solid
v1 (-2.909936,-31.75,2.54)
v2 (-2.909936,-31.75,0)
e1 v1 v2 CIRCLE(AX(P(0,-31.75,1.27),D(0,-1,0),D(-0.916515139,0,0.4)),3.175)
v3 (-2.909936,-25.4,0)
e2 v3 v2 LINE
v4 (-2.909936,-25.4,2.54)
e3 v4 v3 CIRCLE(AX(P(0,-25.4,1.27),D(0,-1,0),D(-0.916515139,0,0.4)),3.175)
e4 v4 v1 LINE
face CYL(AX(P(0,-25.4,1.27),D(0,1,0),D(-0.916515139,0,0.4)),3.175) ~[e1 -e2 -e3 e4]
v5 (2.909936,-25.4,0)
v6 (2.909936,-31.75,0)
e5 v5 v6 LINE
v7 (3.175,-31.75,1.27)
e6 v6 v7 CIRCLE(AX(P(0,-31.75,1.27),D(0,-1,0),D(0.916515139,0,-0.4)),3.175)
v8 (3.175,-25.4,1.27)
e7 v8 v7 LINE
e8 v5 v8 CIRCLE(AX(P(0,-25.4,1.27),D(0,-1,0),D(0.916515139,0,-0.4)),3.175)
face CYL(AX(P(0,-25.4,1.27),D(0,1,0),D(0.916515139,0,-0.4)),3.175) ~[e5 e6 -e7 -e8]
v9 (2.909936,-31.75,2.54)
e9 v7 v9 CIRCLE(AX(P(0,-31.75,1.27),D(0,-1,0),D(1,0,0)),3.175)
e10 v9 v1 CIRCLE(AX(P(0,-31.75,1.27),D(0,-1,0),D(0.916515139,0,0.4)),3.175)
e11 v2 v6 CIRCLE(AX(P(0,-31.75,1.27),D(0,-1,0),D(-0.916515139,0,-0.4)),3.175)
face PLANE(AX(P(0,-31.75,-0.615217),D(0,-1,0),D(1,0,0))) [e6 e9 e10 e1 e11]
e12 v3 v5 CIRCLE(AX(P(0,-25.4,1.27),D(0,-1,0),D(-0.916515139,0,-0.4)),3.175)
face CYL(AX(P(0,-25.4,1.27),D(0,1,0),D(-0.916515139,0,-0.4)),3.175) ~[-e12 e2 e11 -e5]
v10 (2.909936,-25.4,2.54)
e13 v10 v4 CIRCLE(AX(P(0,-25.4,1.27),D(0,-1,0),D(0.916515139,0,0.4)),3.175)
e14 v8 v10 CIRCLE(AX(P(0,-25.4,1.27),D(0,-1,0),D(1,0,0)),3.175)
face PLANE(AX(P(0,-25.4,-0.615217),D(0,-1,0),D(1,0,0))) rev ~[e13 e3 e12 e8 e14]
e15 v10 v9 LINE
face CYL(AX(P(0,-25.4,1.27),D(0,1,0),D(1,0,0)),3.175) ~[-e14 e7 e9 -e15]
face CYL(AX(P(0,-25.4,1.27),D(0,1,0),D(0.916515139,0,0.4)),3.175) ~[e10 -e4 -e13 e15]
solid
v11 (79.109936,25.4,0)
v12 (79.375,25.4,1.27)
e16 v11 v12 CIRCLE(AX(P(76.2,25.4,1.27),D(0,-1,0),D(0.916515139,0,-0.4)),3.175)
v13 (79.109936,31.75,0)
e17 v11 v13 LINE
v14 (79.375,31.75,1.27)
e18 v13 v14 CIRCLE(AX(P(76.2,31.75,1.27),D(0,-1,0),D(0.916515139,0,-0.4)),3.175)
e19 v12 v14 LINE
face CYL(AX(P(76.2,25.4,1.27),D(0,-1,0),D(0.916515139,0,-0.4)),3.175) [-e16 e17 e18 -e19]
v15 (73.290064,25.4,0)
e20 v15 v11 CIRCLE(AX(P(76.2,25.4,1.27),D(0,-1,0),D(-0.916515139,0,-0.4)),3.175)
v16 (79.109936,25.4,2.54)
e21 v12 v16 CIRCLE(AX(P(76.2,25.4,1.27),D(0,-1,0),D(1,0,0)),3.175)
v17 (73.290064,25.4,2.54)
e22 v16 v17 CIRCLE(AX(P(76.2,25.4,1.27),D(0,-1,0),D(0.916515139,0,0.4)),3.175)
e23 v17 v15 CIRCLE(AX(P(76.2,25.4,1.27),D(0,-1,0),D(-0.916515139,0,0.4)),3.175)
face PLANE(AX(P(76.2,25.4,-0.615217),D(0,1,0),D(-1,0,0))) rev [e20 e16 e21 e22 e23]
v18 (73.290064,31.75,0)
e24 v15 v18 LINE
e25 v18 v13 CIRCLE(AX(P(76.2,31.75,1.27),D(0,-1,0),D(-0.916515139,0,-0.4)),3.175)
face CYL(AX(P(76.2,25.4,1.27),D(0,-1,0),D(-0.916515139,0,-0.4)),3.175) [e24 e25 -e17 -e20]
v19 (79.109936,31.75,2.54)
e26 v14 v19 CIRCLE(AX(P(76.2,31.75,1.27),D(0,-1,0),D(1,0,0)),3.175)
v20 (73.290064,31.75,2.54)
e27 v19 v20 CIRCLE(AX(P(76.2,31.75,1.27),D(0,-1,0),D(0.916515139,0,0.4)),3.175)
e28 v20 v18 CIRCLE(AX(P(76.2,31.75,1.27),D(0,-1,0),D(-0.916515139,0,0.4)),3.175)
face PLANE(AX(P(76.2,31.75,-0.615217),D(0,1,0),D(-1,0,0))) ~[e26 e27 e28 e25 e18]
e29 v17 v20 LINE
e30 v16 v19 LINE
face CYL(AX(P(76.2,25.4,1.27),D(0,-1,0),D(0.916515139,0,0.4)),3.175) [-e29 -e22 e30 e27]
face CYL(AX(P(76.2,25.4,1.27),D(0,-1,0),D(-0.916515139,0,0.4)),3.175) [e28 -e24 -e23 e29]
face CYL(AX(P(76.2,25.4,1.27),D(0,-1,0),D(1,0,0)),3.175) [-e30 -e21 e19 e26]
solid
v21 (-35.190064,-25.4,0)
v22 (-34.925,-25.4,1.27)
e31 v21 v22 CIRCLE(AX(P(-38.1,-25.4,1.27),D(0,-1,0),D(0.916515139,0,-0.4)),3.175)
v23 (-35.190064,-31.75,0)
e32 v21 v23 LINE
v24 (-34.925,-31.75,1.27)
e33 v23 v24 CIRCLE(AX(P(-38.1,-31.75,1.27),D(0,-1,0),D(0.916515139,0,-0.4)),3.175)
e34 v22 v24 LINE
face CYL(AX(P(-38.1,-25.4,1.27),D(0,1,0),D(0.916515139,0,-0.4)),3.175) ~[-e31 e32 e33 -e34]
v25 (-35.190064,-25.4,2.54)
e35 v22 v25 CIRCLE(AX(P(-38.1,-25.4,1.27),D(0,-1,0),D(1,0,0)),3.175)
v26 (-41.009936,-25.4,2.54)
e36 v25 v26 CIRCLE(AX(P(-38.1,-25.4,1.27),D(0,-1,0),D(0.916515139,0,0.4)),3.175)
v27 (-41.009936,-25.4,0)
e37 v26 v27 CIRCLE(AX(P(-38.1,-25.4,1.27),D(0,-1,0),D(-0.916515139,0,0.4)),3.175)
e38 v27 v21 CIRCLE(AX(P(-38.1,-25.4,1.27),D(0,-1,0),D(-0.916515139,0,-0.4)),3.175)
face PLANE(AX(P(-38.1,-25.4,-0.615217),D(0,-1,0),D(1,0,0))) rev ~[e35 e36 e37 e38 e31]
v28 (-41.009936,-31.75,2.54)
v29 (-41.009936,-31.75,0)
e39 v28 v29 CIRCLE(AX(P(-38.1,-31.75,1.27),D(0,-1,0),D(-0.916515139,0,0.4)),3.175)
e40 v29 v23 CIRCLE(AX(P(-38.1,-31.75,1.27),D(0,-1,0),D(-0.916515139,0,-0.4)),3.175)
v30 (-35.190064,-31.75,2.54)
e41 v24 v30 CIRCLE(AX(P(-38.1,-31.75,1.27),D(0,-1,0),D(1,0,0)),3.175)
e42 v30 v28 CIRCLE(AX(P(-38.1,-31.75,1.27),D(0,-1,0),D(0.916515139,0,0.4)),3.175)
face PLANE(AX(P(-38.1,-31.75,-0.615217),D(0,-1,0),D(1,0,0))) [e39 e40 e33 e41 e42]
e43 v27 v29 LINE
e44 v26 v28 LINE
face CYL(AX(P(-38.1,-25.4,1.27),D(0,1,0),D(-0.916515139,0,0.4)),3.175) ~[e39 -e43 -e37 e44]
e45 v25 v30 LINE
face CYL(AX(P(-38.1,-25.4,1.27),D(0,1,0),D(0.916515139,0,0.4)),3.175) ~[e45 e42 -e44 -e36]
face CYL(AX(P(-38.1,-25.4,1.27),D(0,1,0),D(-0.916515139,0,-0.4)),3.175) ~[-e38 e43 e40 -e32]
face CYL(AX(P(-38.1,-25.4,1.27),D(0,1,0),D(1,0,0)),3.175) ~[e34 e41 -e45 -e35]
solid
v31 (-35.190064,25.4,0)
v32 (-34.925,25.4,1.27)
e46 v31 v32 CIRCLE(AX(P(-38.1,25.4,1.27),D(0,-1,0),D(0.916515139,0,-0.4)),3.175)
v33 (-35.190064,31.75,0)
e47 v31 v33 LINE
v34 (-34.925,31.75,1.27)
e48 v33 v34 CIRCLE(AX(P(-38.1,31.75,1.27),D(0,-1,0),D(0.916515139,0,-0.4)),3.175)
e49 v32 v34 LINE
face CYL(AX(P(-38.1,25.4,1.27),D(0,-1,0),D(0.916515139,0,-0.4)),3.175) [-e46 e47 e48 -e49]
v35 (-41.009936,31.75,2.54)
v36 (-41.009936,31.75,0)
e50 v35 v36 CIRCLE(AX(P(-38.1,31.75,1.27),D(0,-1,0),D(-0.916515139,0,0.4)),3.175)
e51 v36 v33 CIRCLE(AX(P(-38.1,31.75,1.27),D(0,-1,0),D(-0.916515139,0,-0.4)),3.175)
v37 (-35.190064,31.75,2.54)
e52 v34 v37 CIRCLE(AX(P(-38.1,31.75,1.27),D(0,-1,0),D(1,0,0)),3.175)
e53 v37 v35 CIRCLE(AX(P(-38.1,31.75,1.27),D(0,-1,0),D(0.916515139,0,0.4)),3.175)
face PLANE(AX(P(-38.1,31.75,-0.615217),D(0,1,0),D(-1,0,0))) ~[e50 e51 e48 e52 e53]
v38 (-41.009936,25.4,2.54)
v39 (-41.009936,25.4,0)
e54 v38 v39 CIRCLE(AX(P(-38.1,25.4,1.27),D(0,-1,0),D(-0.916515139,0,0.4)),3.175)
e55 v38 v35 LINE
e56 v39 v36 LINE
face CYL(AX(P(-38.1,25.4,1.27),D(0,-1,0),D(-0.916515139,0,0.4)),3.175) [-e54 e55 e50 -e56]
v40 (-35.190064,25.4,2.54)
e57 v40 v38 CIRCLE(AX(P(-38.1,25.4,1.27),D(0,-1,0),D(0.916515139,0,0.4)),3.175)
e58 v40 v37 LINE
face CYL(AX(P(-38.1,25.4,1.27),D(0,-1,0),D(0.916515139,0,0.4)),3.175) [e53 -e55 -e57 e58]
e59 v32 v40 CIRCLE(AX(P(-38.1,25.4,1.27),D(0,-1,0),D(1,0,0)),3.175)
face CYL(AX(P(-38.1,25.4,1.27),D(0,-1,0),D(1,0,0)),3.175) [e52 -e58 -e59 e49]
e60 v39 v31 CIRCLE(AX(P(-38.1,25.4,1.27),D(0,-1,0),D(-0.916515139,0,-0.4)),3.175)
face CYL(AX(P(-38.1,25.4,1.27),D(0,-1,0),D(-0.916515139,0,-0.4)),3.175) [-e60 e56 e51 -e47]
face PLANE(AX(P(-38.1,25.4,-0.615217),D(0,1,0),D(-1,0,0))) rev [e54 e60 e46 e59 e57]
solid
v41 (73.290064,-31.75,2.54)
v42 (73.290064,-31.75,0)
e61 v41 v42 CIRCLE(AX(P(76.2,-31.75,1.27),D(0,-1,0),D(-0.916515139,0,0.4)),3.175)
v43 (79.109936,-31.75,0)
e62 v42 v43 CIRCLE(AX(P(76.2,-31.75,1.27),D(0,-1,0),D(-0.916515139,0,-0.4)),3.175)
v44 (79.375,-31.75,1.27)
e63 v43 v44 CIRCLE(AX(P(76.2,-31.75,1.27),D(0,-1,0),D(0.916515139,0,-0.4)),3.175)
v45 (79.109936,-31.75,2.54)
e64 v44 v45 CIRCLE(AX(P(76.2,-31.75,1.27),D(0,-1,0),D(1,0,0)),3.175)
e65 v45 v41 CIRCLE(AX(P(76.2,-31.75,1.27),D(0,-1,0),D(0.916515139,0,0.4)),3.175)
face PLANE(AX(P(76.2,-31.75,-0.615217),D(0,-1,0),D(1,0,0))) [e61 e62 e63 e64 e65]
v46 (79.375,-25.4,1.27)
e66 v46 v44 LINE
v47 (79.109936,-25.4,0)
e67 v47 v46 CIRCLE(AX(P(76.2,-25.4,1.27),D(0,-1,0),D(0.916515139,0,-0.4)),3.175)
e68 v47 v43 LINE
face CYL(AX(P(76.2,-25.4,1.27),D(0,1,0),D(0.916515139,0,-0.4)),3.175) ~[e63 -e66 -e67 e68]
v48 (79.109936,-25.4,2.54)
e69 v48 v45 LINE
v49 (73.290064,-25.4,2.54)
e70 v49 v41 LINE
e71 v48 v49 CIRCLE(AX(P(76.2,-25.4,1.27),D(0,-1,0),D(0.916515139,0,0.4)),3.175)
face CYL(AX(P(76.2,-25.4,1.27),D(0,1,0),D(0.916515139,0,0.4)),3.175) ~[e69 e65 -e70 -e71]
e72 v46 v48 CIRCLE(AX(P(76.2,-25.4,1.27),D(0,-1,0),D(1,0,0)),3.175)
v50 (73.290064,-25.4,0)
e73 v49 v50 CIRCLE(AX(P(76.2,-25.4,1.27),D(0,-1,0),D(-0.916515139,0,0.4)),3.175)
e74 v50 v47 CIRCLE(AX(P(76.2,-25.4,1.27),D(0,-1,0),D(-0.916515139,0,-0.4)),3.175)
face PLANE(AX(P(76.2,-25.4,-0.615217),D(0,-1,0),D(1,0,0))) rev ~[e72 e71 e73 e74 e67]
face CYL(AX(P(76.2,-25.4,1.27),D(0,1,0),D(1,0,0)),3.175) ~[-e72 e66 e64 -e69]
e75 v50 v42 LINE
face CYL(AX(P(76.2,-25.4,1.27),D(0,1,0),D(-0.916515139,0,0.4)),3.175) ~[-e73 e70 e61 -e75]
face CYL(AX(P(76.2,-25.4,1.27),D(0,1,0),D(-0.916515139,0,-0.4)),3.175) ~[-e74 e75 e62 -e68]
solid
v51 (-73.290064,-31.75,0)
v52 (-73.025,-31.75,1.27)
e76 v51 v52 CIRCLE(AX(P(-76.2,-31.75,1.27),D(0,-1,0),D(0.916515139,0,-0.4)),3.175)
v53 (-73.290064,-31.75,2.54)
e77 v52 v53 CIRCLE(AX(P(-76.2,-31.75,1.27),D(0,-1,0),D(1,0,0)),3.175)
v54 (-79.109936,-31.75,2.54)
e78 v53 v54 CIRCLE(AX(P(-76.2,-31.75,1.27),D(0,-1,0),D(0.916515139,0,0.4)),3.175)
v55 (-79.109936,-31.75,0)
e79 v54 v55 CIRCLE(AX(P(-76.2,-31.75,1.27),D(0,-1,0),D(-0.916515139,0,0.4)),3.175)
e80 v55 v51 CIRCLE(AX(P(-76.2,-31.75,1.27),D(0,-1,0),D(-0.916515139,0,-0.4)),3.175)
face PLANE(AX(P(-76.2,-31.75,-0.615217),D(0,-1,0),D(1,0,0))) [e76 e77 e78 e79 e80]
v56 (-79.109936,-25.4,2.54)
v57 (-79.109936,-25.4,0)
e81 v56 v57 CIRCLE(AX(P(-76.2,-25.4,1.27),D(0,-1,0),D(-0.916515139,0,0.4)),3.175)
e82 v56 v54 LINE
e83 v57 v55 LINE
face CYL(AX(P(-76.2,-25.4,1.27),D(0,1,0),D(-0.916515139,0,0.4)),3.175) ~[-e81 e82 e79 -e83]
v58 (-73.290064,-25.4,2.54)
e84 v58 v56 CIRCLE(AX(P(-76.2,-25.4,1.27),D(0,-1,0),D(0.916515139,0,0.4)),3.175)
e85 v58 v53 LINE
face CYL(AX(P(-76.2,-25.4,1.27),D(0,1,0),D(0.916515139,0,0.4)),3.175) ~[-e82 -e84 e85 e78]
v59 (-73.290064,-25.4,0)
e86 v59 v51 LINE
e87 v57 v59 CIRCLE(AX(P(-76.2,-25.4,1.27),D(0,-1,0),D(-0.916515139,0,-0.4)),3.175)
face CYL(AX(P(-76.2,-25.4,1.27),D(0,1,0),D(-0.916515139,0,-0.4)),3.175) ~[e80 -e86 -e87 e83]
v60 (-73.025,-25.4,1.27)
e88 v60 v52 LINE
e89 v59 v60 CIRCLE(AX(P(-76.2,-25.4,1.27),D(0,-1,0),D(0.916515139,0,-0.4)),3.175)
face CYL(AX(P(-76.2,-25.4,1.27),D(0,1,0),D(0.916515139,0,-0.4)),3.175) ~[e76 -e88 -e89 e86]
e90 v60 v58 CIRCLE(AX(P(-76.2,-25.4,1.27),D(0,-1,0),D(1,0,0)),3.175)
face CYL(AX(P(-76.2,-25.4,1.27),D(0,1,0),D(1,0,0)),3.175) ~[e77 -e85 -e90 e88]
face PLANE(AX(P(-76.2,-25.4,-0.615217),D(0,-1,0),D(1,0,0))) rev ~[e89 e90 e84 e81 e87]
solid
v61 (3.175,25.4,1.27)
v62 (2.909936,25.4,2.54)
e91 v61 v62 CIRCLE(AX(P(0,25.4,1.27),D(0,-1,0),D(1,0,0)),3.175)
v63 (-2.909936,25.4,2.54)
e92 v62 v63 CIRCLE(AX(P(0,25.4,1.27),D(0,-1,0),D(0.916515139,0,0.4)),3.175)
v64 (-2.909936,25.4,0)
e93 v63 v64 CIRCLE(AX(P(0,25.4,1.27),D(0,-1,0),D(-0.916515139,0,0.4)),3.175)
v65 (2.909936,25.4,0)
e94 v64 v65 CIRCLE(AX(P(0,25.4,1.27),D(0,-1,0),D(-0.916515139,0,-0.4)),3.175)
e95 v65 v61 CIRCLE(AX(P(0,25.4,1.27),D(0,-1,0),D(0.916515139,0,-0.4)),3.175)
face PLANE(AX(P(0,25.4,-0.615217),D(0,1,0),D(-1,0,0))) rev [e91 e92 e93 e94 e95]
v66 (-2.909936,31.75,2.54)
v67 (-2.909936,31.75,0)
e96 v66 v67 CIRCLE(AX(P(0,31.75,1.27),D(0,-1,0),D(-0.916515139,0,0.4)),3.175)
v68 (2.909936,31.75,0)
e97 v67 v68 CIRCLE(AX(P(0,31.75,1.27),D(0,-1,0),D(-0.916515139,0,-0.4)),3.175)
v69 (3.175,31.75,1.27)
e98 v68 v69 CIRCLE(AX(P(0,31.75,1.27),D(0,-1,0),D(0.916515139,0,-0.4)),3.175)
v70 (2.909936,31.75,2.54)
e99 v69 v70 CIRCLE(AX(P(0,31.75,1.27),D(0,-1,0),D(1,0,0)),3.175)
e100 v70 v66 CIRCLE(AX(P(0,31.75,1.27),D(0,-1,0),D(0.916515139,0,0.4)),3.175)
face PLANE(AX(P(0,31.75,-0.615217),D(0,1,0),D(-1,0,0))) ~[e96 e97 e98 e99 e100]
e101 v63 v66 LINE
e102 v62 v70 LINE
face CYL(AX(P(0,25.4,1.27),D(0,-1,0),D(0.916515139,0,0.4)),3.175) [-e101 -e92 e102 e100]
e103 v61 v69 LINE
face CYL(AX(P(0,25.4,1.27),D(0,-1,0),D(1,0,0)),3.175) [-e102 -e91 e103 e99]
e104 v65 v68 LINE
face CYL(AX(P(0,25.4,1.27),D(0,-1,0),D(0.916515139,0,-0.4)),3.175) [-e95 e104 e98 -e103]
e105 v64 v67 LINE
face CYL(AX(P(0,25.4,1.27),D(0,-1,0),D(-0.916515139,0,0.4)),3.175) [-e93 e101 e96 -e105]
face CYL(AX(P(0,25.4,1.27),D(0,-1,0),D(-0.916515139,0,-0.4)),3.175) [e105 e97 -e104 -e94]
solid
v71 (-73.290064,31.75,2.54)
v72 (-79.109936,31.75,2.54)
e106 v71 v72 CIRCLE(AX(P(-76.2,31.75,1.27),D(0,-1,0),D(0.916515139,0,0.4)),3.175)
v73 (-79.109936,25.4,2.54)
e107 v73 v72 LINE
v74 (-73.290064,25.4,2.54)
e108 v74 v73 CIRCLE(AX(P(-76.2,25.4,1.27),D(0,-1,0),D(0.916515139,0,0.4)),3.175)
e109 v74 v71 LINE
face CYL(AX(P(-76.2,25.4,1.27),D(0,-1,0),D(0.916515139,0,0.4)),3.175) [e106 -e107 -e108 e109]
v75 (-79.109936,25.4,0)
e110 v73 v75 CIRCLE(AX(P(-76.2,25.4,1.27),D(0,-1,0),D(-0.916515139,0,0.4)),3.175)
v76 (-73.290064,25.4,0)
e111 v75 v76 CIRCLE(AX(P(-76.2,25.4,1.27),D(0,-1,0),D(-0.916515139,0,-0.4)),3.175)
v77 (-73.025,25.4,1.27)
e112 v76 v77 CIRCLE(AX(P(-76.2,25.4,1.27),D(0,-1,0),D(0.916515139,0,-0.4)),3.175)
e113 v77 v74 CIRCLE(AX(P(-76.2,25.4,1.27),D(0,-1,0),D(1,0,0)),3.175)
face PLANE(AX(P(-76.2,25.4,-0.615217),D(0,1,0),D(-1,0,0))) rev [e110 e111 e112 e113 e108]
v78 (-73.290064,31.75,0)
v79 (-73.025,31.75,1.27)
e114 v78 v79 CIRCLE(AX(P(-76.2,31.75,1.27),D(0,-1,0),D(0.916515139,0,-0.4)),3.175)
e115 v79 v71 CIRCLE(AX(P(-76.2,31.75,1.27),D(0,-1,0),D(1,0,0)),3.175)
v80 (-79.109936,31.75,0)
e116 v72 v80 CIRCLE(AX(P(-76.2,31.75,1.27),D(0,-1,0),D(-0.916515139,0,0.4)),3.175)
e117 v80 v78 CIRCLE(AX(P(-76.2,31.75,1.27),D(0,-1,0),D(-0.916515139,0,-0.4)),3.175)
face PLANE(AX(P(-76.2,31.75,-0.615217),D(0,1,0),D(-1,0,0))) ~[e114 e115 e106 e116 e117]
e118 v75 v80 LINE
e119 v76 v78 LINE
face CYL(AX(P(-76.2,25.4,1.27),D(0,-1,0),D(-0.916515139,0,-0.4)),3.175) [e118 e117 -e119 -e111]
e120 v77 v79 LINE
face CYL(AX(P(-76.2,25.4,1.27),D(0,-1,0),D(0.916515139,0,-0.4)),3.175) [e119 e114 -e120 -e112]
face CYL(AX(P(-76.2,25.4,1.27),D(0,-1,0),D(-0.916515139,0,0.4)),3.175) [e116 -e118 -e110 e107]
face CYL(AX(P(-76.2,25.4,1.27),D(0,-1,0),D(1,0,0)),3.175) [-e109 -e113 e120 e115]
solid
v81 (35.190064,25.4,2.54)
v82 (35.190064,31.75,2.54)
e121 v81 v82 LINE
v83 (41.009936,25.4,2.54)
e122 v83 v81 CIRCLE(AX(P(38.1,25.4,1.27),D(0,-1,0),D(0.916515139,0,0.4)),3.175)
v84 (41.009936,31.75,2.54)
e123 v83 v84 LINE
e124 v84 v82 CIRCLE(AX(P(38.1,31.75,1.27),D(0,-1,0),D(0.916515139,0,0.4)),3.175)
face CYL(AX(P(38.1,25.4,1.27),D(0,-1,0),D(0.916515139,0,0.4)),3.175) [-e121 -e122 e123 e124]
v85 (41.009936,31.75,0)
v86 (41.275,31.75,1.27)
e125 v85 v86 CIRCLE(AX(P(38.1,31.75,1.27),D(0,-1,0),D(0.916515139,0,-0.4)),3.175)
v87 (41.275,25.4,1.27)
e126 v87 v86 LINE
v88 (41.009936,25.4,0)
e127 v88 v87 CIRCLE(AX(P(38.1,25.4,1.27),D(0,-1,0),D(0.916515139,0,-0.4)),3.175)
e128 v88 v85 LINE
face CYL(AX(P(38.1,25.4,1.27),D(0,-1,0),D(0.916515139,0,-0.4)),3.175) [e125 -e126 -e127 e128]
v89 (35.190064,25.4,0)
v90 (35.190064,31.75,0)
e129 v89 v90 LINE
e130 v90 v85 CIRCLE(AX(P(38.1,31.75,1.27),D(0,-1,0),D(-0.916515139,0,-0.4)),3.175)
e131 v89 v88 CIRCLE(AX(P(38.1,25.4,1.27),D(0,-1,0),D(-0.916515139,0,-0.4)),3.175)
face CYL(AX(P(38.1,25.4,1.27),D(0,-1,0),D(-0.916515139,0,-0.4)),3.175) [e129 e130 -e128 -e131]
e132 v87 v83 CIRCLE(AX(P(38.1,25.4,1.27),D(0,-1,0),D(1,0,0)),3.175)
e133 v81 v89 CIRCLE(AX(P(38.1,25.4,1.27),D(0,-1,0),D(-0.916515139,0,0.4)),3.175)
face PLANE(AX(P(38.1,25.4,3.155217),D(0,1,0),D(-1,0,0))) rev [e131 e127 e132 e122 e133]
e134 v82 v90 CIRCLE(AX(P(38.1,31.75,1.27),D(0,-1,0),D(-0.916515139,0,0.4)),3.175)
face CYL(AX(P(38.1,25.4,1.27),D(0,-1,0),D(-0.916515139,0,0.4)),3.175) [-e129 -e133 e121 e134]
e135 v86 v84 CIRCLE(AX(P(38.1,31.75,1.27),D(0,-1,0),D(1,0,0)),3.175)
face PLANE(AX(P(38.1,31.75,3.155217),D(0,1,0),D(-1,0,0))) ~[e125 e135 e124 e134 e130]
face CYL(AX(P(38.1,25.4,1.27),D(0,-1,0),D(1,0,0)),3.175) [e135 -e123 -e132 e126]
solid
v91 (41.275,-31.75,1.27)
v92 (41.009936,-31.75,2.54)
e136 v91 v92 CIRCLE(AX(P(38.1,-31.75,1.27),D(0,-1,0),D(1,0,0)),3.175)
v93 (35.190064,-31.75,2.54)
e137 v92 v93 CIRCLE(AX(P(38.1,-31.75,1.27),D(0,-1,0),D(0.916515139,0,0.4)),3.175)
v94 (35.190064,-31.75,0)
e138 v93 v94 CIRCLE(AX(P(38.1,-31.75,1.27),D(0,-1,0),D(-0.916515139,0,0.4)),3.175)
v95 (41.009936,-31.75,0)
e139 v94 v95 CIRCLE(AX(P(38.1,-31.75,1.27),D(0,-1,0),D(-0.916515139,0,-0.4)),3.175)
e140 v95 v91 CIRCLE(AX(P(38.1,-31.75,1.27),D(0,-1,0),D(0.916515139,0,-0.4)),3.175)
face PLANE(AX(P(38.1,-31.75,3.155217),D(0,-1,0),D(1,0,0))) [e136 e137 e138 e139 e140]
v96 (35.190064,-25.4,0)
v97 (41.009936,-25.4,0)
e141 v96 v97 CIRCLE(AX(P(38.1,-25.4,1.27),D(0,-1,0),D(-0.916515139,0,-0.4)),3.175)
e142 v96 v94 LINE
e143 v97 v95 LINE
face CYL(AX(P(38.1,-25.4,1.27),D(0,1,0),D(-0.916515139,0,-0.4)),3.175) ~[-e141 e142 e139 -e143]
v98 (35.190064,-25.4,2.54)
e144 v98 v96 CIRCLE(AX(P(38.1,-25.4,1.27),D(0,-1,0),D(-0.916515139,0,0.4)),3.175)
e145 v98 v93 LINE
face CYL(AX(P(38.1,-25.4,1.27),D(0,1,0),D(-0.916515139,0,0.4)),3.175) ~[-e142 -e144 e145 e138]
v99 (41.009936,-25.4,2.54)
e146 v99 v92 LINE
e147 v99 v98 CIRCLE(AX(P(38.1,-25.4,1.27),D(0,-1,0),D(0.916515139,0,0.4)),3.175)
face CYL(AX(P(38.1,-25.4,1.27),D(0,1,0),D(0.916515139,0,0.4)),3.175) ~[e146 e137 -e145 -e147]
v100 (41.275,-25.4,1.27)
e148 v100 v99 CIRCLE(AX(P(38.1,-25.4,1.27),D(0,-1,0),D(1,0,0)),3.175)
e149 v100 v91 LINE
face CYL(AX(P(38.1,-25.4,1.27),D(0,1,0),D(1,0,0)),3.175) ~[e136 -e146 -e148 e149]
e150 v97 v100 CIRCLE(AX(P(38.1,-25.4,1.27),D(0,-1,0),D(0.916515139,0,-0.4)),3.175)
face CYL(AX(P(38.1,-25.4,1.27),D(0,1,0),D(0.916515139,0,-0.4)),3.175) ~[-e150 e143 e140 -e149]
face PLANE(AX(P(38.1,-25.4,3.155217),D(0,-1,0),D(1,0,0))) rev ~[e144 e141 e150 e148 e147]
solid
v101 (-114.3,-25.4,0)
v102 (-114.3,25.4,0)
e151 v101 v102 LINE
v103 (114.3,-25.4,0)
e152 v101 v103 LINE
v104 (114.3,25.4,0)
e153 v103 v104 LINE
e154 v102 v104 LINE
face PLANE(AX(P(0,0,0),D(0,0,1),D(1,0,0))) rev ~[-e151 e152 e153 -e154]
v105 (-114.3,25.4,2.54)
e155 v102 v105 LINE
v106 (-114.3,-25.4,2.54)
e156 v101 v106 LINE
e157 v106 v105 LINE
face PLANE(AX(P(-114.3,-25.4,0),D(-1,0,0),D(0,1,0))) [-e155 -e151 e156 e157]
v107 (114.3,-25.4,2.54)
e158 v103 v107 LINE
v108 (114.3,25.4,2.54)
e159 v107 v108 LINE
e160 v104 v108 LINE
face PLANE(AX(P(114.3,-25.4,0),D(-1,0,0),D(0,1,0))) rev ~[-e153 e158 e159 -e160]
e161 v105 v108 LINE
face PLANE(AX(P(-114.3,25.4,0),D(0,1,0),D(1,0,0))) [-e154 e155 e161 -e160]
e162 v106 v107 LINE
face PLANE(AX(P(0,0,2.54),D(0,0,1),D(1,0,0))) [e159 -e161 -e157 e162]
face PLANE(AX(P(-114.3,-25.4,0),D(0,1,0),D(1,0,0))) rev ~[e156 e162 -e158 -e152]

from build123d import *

# Parameters (mm, degrees)
F0_W     = 228.6
F0_H     = 50.8
F1_DEPTH = 2.54
F3_DEPTH = 6.35


with BuildPart() as f1:
    # F0 (on Top) → F1 (new body)
    with BuildSketch(Plane.XY):
        Rectangle(F0_W, F0_H)
    extrude(amount=F1_DEPTH)


with BuildPart() as f3:
    # F2 (on face) → F3 (new body)
    with BuildSketch(Plane.XZ.offset(25.4)):
        with BuildLine():
            ThreePointArc((-79.1099355663, 0), (-76.2, -1.905), (-73.2900644337, 0))
            Line((-73.2900644337, 0), (-79.1099355663, 0))
        make_face()
        with BuildLine():
            ThreePointArc((-73.2900644337, 0), (-73.0919724564, 0.6213168813), (-73.025, 1.27))
            ThreePointArc((-73.025, 1.27), (-73.0919724564, 1.9186831187), (-73.2900644337, 2.54))
            Line((-73.2900644337, 2.54), (-79.1099355663, 2.54))
            ThreePointArc((-79.1099355663, 2.54), (-79.375, 1.27), (-79.1099355663, 0))
            Line((-79.1099355663, 0), (-73.2900644337, 0))
        make_face()
        with BuildLine():
            Line((-79.1099355663, 2.54), (-73.2900644337, 2.54))
            ThreePointArc((-73.2900644337, 2.54), (-76.2, 4.445), (-79.1099355663, 2.54))
        make_face()
    extrude(amount=F3_DEPTH)


with BuildPart() as f3b:
    # F2 (on face) → F3, piece 2 (new body)
    with BuildSketch(Plane.XZ.offset(25.4)):
        with BuildLine():
            Line((-35.1900644337, 0), (-41.0099355663, 0))
            ThreePointArc((-41.0099355663, 0), (-38.1, -1.905), (-35.1900644337, 0))
        make_face()
        with BuildLine():
            Line((-35.1900644337, 2.54), (-41.0099355663, 2.54))
            ThreePointArc((-41.0099355663, 2.54), (-41.275, 1.27), (-41.0099355663, 0))
            Line((-41.0099355663, 0), (-35.1900644337, 0))
            ThreePointArc((-35.1900644337, 0), (-34.9919724564, 0.6213168813), (-34.925, 1.27))
            ThreePointArc((-34.925, 1.27), (-34.9919724564, 1.9186831187), (-35.1900644337, 2.54))
        make_face()
        with BuildLine():
            ThreePointArc((-35.1900644337, 2.54), (-38.1, 4.445), (-41.0099355663, 2.54))
            Line((-41.0099355663, 2.54), (-35.1900644337, 2.54))
        make_face()
    extrude(amount=F3_DEPTH)


with BuildPart() as f3c:
    # F2 (on face) → F3, piece 3 (new body)
    with BuildSketch(Plane.XZ.offset(25.4)):
        with BuildLine():
            Line((2.9099355663, 0), (-2.9099355663, 0))
            ThreePointArc((-2.9099355663, 0), (0, -1.905), (2.9099355663, 0))
        make_face()
        with BuildLine():
            Line((2.9099355663, 2.54), (-2.9099355663, 2.54))
            ThreePointArc((-2.9099355663, 2.54), (-3.175, 1.27), (-2.9099355663, 0))
            Line((-2.9099355663, 0), (2.9099355663, 0))
            ThreePointArc((2.9099355663, 0), (3.1080275436, 0.6213168813), (3.175, 1.27))
            ThreePointArc((3.175, 1.27), (3.1080275436, 1.9186831187), (2.9099355663, 2.54))
        make_face()
        with BuildLine():
            ThreePointArc((2.9099355663, 2.54), (0, 4.445), (-2.9099355663, 2.54))
            Line((-2.9099355663, 2.54), (2.9099355663, 2.54))
        make_face()
    extrude(amount=F3_DEPTH)


with BuildPart() as f3d:
    # F2 (on face) → F3, piece 4 (new body)
    with BuildSketch(Plane.XZ.offset(25.4)):
        with BuildLine():
            ThreePointArc((41.0099355663, 2.54), (38.1, 4.445), (35.1900644337, 2.54))
            Line((35.1900644337, 2.54), (41.0099355663, 2.54))
        make_face()
        with BuildLine():
            Line((41.0099355663, 2.54), (35.1900644337, 2.54))
            ThreePointArc((35.1900644337, 2.54), (34.925, 1.27), (35.1900644337, 0))
            Line((35.1900644337, 0), (41.0099355663, 0))
            ThreePointArc((41.0099355663, 0), (41.2080275436, 0.6213168813), (41.275, 1.27))
            ThreePointArc((41.275, 1.27), (41.2080275436, 1.9186831187), (41.0099355663, 2.54))
        make_face()
        with BuildLine():
            Line((41.0099355663, 0), (35.1900644337, 0))
            ThreePointArc((35.1900644337, 0), (38.1, -1.905), (41.0099355663, 0))
        make_face()
    extrude(amount=F3_DEPTH)


with BuildPart() as f3e:
    # F2 (on face) → F3, piece 5 (new body)
    with BuildSketch(Plane.XZ.offset(25.4)):
        with BuildLine():
            Line((79.1099355663, 0), (73.2900644337, 0))
            ThreePointArc((73.2900644337, 0), (76.2, -1.905), (79.1099355663, 0))
        make_face()
        with BuildLine():
            Line((79.1099355663, 2.54), (73.2900644337, 2.54))
            ThreePointArc((73.2900644337, 2.54), (73.025, 1.27), (73.2900644337, 0))
            Line((73.2900644337, 0), (79.1099355663, 0))
            ThreePointArc((79.1099355663, 0), (79.3080275436, 0.6213168813), (79.375, 1.27))
            ThreePointArc((79.375, 1.27), (79.3080275436, 1.9186831187), (79.1099355663, 2.54))
        make_face()
        with BuildLine():
            ThreePointArc((79.1099355663, 2.54), (76.2, 4.445), (73.2900644337, 2.54))
            Line((73.2900644337, 2.54), (79.1099355663, 2.54))
        make_face()
    extrude(amount=F3_DEPTH)


with BuildPart() as f4_1:
    # F4: instance of F3
    add(f3.part.mirror(Plane.XZ))


with BuildPart() as f4_2:
    # F4: instance of F3b
    add(f3b.part.mirror(Plane.XZ))


with BuildPart() as f4_3:
    # F4: instance of F3c
    add(f3c.part.mirror(Plane.XZ))


with BuildPart() as f4_4:
    # F4: instance of F3d
    add(f3d.part.mirror(Plane.XZ))


with BuildPart() as f4_5:
    # F4: instance of F3e
    add(f3e.part.mirror(Plane.XZ))


solid = Compound([f1.part, f3.part, f3b.part, f3c.part, f3d.part, f3e.part, f4_1.part, f4_2.part, f4_3.part, f4_4.part, f4_5.part])
